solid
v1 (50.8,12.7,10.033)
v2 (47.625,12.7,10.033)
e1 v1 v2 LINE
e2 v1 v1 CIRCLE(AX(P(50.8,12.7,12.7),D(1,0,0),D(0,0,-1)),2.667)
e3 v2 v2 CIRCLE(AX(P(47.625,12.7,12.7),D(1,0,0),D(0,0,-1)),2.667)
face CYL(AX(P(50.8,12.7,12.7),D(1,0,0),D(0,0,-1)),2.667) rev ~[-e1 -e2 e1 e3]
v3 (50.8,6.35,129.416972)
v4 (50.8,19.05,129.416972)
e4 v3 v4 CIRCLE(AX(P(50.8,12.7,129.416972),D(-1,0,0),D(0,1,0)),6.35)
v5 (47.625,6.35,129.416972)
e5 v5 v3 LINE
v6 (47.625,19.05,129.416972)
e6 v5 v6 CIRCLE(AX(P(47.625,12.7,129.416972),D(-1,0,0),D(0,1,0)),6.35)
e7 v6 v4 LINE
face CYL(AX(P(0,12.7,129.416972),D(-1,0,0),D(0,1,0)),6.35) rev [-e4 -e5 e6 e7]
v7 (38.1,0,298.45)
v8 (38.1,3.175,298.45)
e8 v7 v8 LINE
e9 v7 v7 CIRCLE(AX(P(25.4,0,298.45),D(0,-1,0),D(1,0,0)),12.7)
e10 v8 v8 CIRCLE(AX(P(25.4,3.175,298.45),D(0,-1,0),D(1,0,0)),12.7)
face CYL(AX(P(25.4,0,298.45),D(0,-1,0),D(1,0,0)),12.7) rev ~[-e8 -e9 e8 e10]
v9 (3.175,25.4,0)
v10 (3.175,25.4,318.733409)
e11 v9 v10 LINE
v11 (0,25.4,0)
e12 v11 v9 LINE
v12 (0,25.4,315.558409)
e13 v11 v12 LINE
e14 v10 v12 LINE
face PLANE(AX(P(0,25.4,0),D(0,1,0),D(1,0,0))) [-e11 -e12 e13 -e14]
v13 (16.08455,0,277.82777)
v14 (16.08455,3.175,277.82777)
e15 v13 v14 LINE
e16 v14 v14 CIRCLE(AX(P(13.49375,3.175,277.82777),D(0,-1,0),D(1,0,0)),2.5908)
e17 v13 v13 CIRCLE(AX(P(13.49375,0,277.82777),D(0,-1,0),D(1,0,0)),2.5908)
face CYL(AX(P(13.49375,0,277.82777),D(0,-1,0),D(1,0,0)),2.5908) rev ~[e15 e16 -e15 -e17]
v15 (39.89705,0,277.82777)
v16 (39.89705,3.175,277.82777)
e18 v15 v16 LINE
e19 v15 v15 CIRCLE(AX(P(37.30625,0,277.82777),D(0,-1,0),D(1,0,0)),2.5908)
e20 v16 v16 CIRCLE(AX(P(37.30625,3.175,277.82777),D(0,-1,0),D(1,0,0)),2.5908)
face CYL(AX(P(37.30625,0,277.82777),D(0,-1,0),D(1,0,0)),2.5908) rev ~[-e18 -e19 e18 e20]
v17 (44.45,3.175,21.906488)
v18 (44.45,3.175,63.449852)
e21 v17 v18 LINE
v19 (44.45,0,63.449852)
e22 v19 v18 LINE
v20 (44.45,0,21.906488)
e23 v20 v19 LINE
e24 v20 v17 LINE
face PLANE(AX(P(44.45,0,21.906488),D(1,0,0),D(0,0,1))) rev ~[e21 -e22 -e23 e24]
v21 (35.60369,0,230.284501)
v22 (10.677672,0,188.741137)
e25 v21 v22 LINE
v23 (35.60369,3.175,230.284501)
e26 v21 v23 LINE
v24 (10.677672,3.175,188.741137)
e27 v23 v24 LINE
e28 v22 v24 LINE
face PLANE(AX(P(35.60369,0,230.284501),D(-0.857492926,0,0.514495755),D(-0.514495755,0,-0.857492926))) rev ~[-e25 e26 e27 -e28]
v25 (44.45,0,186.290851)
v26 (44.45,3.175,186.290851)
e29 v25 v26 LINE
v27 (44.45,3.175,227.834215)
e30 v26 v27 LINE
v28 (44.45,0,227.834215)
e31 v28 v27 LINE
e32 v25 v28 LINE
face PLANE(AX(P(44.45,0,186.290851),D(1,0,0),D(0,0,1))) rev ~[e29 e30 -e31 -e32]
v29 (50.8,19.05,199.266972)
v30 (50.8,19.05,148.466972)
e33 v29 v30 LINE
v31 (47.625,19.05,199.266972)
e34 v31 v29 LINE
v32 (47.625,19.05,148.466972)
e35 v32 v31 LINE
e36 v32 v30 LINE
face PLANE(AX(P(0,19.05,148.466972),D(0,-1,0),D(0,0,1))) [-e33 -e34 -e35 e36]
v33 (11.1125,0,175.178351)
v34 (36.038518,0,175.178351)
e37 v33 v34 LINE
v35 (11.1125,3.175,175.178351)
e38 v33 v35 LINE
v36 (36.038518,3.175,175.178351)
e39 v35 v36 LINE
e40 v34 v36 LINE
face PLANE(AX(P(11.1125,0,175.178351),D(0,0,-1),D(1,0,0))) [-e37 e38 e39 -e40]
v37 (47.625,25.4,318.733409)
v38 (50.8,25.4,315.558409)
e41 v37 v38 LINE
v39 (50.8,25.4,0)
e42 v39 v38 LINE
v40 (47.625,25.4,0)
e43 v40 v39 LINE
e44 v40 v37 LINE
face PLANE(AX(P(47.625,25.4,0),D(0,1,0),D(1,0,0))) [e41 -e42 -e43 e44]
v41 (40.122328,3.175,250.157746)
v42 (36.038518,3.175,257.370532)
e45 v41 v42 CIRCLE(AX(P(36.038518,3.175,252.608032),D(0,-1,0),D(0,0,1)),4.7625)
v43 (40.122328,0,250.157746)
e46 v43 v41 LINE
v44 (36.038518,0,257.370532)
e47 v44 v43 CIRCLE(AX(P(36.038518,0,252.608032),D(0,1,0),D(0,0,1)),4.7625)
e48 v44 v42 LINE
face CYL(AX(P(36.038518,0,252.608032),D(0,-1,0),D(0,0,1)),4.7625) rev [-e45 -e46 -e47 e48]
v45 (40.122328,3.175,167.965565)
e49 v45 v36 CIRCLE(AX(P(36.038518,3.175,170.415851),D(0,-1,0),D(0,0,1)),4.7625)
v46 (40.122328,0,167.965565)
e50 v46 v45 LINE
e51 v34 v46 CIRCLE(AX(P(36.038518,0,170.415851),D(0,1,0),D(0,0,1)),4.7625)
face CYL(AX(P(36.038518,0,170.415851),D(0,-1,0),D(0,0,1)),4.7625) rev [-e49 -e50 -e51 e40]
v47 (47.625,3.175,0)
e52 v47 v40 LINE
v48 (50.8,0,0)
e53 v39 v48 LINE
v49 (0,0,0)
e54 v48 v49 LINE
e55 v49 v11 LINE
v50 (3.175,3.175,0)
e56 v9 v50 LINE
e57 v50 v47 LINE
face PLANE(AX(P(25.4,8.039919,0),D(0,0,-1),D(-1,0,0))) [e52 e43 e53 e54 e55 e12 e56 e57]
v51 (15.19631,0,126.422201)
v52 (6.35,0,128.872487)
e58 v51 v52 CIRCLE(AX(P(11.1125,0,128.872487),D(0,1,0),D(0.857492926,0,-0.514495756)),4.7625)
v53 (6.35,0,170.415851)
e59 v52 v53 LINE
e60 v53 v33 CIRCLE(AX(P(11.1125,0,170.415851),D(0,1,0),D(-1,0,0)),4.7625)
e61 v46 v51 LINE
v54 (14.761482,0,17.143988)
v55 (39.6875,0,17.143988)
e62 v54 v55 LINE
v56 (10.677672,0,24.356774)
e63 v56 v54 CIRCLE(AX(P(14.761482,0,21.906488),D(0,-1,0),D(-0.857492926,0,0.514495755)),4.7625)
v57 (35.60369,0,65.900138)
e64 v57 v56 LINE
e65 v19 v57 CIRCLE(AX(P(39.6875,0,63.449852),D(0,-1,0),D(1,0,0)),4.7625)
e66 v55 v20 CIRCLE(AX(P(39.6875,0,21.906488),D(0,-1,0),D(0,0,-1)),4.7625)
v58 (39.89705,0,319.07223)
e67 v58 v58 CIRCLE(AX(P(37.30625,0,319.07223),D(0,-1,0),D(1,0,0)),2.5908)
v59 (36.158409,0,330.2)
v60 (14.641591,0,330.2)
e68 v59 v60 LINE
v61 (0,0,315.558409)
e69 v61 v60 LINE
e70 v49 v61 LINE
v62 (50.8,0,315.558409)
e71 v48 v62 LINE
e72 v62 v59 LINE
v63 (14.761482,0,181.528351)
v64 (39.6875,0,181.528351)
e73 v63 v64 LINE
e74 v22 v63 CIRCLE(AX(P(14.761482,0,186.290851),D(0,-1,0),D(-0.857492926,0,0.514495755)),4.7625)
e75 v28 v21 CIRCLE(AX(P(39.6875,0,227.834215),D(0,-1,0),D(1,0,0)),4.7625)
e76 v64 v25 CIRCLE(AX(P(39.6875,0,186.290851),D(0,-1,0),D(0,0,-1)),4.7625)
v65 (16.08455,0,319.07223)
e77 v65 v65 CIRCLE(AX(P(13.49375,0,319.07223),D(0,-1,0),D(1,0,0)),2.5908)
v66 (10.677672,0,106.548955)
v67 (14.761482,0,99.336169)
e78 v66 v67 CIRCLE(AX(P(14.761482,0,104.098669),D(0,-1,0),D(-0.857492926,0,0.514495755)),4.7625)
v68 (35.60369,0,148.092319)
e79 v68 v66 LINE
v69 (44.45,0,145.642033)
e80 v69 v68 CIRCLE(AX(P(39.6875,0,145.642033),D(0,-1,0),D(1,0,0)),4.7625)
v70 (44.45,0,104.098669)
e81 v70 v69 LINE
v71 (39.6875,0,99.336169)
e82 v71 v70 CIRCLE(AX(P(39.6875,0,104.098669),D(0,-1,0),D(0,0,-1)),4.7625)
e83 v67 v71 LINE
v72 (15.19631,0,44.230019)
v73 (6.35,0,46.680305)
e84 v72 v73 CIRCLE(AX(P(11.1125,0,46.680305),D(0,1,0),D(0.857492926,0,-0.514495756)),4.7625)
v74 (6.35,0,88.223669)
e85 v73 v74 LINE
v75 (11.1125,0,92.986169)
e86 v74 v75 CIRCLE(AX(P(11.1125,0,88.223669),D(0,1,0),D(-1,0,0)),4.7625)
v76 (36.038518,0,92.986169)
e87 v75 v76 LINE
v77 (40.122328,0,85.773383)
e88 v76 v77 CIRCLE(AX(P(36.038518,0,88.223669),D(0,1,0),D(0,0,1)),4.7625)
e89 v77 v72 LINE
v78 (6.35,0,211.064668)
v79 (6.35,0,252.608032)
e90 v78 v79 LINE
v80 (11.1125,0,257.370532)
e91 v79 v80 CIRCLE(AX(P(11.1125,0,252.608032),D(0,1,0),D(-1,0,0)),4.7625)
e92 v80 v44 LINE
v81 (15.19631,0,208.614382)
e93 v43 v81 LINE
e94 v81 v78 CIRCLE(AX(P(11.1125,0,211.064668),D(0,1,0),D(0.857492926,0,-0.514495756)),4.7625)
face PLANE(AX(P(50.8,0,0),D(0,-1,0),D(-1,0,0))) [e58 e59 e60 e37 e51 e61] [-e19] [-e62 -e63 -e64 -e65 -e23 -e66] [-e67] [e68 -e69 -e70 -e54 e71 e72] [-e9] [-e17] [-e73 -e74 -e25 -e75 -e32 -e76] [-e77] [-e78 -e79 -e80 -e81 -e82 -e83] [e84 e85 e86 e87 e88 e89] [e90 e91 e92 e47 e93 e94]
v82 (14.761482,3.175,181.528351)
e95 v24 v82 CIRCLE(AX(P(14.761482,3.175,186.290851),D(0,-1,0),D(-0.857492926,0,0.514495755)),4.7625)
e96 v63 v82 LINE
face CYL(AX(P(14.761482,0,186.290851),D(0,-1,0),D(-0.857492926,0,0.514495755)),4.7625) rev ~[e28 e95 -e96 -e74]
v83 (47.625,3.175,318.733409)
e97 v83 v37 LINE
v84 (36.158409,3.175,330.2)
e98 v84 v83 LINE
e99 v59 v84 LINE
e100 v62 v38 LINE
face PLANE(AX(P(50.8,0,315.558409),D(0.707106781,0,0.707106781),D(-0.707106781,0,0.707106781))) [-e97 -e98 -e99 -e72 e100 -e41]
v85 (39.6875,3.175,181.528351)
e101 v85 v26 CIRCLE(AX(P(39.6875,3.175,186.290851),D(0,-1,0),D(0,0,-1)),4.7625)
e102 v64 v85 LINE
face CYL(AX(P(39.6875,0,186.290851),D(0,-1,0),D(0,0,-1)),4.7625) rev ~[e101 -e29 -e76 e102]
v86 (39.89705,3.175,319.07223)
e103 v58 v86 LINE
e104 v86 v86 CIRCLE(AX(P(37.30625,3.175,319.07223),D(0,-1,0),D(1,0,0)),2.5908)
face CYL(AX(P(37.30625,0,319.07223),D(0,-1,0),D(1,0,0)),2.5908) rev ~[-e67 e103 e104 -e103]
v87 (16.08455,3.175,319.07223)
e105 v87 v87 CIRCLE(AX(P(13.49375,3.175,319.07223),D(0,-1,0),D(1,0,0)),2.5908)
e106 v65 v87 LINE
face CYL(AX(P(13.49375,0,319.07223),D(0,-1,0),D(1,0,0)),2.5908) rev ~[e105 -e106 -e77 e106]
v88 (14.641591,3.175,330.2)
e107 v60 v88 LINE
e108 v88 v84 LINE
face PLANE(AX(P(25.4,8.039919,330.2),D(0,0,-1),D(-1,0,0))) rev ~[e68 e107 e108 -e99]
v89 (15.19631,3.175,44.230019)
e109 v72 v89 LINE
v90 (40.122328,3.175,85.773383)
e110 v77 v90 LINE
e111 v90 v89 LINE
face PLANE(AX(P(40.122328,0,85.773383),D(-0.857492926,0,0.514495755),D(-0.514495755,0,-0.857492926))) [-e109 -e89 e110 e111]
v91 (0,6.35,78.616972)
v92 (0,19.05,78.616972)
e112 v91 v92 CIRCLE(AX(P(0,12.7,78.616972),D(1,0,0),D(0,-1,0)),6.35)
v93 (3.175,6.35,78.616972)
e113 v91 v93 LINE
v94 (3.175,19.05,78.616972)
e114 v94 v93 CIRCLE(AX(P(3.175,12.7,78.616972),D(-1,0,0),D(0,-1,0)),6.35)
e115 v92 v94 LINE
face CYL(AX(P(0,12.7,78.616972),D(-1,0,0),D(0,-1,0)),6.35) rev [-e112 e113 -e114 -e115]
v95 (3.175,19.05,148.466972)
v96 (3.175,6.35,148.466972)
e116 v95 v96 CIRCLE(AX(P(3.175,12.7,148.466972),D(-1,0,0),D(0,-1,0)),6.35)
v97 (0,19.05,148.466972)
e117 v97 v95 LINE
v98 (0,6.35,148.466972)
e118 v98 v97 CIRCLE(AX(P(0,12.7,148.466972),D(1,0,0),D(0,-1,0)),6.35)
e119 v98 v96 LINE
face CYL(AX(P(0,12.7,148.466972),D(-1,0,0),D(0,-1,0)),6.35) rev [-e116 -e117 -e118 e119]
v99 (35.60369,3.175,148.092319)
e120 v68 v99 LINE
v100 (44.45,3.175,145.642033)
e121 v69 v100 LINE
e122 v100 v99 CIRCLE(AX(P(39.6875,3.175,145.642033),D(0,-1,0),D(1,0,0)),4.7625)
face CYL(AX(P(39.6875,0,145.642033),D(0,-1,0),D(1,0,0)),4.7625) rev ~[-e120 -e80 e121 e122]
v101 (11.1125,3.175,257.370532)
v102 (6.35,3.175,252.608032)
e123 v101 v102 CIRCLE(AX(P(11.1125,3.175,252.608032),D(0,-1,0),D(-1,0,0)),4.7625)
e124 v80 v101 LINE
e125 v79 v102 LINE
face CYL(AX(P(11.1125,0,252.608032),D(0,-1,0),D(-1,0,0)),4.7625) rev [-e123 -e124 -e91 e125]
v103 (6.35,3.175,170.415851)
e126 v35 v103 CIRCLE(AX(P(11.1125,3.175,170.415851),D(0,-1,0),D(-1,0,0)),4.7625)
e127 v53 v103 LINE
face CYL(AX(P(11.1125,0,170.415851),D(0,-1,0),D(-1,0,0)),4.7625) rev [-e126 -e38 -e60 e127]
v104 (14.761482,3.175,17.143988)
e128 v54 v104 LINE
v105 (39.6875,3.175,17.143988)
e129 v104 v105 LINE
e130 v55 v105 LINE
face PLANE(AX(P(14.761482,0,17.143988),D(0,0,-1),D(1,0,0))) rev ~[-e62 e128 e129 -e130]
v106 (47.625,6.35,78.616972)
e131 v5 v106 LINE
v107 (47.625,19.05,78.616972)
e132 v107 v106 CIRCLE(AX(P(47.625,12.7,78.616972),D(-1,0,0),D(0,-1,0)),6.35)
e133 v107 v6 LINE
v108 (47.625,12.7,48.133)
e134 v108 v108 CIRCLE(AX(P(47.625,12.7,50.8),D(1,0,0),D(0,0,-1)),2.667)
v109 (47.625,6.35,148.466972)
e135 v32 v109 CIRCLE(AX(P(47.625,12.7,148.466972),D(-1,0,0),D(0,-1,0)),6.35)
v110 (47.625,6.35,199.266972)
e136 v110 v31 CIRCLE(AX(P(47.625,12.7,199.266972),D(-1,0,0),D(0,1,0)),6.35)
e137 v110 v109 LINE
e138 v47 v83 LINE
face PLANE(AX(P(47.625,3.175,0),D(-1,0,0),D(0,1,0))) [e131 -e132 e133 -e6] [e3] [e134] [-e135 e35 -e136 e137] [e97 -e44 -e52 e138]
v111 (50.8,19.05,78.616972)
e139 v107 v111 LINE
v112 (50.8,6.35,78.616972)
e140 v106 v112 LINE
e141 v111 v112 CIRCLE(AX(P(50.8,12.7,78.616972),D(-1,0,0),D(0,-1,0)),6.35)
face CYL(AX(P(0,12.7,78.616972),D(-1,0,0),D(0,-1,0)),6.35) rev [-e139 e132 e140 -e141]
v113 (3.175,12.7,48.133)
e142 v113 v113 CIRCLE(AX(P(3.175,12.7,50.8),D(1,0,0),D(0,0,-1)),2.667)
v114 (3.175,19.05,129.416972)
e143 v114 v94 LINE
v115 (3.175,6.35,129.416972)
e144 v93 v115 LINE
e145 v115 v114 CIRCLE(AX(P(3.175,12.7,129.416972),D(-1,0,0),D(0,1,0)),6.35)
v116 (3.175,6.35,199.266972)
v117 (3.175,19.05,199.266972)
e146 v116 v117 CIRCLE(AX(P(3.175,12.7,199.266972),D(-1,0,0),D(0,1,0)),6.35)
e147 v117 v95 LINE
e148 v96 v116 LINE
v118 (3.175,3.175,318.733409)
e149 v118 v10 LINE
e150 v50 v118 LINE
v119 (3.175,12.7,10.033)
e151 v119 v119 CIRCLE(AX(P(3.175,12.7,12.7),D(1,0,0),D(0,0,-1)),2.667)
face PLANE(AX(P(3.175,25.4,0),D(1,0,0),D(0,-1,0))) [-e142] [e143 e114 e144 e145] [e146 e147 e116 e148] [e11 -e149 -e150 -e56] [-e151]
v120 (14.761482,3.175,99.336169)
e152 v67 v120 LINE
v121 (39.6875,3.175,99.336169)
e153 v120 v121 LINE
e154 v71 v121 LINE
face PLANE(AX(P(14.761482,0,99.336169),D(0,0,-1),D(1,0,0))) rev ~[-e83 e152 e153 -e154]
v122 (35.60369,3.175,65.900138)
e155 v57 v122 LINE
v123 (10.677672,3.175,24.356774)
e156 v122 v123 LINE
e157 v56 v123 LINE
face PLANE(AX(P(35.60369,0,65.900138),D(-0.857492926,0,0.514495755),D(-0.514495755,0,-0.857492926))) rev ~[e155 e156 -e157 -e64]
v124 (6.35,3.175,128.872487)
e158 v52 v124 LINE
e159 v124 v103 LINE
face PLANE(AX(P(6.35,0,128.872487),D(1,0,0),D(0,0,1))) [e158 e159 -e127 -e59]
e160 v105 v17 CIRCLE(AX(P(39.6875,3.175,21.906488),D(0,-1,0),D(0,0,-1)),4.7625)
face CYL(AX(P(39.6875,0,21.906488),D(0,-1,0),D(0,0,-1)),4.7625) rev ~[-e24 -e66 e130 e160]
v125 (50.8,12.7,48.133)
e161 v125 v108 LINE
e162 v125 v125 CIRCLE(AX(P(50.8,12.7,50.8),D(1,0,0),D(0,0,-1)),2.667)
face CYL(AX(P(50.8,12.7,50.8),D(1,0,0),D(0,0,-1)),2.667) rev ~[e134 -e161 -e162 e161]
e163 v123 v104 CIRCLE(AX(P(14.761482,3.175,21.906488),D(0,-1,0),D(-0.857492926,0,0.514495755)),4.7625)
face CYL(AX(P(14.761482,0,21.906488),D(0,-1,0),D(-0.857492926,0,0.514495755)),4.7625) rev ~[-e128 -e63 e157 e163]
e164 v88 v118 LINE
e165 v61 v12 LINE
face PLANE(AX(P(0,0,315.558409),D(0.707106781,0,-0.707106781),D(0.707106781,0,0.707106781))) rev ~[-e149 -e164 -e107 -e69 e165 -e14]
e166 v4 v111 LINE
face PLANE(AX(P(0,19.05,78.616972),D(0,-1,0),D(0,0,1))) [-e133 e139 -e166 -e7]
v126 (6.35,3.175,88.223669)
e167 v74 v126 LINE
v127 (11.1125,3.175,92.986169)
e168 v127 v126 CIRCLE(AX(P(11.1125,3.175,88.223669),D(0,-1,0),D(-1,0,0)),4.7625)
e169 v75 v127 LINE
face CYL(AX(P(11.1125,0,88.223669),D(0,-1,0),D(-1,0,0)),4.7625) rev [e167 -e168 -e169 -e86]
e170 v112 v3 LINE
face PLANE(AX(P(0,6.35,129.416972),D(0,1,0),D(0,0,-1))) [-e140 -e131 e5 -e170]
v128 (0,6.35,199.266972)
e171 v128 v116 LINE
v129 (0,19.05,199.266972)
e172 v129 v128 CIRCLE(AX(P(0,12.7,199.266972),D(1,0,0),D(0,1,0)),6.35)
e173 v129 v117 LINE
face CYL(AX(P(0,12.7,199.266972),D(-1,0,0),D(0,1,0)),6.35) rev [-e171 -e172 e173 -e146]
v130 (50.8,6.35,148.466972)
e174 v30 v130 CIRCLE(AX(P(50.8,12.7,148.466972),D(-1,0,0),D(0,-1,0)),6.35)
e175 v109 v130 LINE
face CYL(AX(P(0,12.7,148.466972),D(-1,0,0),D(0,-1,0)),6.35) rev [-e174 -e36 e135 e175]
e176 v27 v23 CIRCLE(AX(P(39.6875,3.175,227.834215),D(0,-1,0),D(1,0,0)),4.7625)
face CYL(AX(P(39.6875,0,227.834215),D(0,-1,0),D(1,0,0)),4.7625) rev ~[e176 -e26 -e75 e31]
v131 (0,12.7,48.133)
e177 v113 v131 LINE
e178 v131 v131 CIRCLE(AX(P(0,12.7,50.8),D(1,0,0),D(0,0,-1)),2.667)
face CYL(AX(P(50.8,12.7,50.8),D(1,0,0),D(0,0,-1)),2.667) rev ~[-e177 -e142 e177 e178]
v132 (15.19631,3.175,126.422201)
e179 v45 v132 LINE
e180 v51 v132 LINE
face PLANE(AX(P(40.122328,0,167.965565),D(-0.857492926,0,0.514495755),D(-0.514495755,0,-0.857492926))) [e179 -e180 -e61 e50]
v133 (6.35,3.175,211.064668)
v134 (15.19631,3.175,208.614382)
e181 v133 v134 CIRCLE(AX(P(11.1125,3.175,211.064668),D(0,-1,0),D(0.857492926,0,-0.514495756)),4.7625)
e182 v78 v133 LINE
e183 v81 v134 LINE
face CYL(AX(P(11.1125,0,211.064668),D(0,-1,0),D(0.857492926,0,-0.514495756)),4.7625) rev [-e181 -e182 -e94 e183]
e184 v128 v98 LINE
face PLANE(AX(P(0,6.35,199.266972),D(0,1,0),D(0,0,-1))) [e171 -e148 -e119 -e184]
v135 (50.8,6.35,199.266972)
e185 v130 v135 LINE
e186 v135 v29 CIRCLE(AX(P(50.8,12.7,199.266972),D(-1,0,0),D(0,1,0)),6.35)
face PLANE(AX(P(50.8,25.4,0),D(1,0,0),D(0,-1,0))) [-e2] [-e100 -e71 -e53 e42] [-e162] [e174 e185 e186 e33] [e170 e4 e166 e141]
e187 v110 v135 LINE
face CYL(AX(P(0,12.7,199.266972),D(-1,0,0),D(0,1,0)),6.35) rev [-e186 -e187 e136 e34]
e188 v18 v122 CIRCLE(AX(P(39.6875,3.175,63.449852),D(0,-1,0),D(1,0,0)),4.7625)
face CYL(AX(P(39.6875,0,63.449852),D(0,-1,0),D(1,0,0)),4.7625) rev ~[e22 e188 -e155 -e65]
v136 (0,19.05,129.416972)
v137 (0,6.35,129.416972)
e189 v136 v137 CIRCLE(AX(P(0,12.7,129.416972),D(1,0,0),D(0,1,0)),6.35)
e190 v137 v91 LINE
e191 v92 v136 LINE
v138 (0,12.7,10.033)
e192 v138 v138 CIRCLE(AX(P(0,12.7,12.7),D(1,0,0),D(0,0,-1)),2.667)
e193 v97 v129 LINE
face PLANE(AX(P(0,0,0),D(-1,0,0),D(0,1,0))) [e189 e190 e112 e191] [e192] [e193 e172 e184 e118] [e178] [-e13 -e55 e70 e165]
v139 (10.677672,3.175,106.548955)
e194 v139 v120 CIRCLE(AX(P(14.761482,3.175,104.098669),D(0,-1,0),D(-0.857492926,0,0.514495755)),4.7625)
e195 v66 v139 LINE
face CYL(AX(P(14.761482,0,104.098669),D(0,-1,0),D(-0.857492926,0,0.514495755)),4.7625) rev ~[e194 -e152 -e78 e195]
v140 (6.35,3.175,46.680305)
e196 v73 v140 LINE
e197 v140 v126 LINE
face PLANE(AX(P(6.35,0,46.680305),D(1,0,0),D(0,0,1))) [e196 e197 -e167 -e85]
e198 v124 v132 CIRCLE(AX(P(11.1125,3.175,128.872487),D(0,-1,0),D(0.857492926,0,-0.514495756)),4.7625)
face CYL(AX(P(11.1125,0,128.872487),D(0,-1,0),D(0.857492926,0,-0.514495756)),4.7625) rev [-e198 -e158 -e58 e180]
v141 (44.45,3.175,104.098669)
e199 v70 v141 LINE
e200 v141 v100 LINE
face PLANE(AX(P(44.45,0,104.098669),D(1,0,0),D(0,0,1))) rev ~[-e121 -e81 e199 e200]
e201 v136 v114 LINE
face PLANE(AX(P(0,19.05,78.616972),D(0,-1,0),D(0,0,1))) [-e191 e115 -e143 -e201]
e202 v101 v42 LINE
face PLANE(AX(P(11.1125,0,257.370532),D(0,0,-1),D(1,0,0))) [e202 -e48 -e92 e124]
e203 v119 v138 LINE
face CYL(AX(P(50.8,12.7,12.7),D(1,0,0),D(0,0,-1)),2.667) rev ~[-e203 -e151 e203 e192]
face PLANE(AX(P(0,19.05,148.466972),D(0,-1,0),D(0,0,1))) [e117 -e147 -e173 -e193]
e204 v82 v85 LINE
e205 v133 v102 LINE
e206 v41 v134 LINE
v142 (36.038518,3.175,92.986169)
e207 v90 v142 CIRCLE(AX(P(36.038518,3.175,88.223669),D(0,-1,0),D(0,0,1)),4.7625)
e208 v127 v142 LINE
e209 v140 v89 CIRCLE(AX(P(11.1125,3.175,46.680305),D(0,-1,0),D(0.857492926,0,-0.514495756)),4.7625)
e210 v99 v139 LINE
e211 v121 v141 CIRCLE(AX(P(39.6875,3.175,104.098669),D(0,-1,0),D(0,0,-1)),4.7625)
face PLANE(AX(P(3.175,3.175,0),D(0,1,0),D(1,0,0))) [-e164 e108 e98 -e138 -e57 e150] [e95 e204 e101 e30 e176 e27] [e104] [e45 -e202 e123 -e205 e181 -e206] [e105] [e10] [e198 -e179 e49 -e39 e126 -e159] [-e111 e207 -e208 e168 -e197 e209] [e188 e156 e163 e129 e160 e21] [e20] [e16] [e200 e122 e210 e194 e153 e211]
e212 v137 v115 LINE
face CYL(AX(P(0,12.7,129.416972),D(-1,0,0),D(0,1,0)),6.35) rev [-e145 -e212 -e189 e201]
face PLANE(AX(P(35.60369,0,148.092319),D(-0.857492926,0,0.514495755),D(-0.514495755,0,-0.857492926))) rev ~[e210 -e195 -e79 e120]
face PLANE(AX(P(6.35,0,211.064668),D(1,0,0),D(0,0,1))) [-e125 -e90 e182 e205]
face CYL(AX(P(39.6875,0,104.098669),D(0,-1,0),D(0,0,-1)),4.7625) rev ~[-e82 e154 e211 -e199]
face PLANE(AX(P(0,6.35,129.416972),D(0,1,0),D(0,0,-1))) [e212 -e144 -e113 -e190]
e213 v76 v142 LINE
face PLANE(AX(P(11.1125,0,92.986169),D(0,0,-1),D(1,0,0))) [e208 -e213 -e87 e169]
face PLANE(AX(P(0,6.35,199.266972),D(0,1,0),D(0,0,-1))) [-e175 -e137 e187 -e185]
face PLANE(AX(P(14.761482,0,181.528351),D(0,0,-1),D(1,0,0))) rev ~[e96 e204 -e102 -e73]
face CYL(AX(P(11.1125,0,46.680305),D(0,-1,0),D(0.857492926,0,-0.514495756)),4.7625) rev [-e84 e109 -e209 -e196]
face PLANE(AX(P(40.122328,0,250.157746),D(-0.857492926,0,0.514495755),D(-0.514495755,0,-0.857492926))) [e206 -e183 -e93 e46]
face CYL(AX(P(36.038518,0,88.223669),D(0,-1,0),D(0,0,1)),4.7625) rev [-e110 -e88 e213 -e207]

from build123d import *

# Parameters (mm, degrees)
BOSS_EXTRUDE1_DEPTH = 330.2
CUT_EXTRUDE1_REACH  = 27.4
SKETCH2_R           = 12.7
SKETCH3_R           = 2.667
CUT_EXTRUDE2_DEPTH  = 51.8
CUT_EXTRUDE3_REACH  = 27.4
SKETCH4_R           = 2.5908
CUT_EXTRUDE4_REACH  = 27.4
CUT_EXTRUDE5_DEPTH  = 51.8
CUT_EXTRUDE6_DEPTH  = 26.4


with BuildPart() as part:
    # Sketch1 → Boss-Extrude1 (new body)
    with BuildSketch(Plane.XY):
        Polygon((47.625, 3.175), (47.625, 25.4), (50.8, 25.4), (50.8, 0), (0, 0), (0, 25.4), (3.175, 25.4), (3.175, 3.175), align=None)
    extrude(amount=BOSS_EXTRUDE1_DEPTH)

    # Sketch2 → Cut-Extrude1 (cut, up to next)
    with BuildSketch(Plane.XZ, mode=Mode.PRIVATE) as cut_extrude1_sk1:
        with Locations((25.4, 298.45)):
            Circle(SKETCH2_R)
    cut_extrude1_tool1 = extrude(cut_extrude1_sk1.sketch, amount=-CUT_EXTRUDE1_REACH, mode=Mode.PRIVATE) & part.part
    add(cut_extrude1_tool1.solids().sort_by_distance((25.4, 0, 298.45))[0], mode=Mode.SUBTRACT)

    # Sketch3 → Cut-Extrude2 (cut, through all)
    with BuildSketch(Plane(origin=(50.8, 0, 0), x_dir=(0, 0, -1), z_dir=(1, 0, 0))):
        with Locations((-12.7, 12.7)):
            Circle(SKETCH3_R)
        with Locations((-50.8, 12.7)):
            Circle(SKETCH3_R)
    extrude(amount=-CUT_EXTRUDE2_DEPTH, mode=Mode.SUBTRACT)

    # Sketch4 → Cut-Extrude3 (cut, up to next)
    with BuildSketch(Plane.XZ, mode=Mode.PRIVATE) as cut_extrude3_sk1:
        with Locations((13.49375, 277.827770072)):
            Circle(SKETCH4_R)
    cut_extrude3_tool1 = extrude(cut_extrude3_sk1.sketch, amount=-CUT_EXTRUDE3_REACH, mode=Mode.PRIVATE) & part.part
    add(cut_extrude3_tool1.solids().sort_by_distance((13.49375, 0, 277.82777))[0], mode=Mode.SUBTRACT)
    # Sketch4 → Cut-Extrude3 (cut, up to next)
    with BuildSketch(Plane.XZ, mode=Mode.PRIVATE) as cut_extrude3_sk2:
        with Locations((37.30625, 277.827770072)):
            Circle(SKETCH4_R)
    cut_extrude3_tool2 = extrude(cut_extrude3_sk2.sketch, amount=-CUT_EXTRUDE3_REACH, mode=Mode.PRIVATE) & part.part
    add(cut_extrude3_tool2.solids().sort_by_distance((37.30625, 0, 277.82777))[0], mode=Mode.SUBTRACT)
    # Sketch4 → Cut-Extrude3 (cut, up to next)
    with BuildSketch(Plane.XZ, mode=Mode.PRIVATE) as cut_extrude3_sk3:
        with Locations((13.49375, 319.072229928)):
            Circle(SKETCH4_R)
    cut_extrude3_tool3 = extrude(cut_extrude3_sk3.sketch, amount=-CUT_EXTRUDE3_REACH, mode=Mode.PRIVATE) & part.part
    add(cut_extrude3_tool3.solids().sort_by_distance((13.49375, 0, 319.07223))[0], mode=Mode.SUBTRACT)
    # Sketch4 → Cut-Extrude3 (cut, up to next)
    with BuildSketch(Plane.XZ, mode=Mode.PRIVATE) as cut_extrude3_sk4:
        with Locations((37.30625, 319.072229928)):
            Circle(SKETCH4_R)
    cut_extrude3_tool4 = extrude(cut_extrude3_sk4.sketch, amount=-CUT_EXTRUDE3_REACH, mode=Mode.PRIVATE) & part.part
    add(cut_extrude3_tool4.solids().sort_by_distance((37.30625, 0, 319.07223))[0], mode=Mode.SUBTRACT)

    # Sketch5 → Cut-Extrude4 (cut, up to next)
    with BuildSketch(Plane.XZ, mode=Mode.PRIVATE) as cut_extrude4_sk1:
        with BuildLine():
            Line((40.122328379, 85.773383183), (15.196310059, 44.230019316))
            ThreePointArc((15.196310059, 44.230019316), (9.841228816, 42.090613006), (6.35, 46.680305352))
            Line((6.35, 46.680305352), (6.35, 88.223669219))
            ThreePointArc((6.35, 88.223669219), (7.744903955, 91.591265264), (11.1125, 92.986169219))
            Line((11.1125, 92.986169219), (36.03851832, 92.986169219))
            ThreePointArc((36.03851832, 92.986169219), (40.182845376, 90.570147325), (40.122328379, 85.773383183))
        make_face()
    cut_extrude4_tool1 = extrude(cut_extrude4_sk1.sketch, amount=-CUT_EXTRUDE4_REACH, mode=Mode.PRIVATE) & part.part
    add(cut_extrude4_tool1.solids().sort_by_distance((19.256233, 0, 73.00095))[0], mode=Mode.SUBTRACT)
    # Sketch5 → Cut-Extrude4 (cut, up to next)
    with BuildSketch(Plane.XZ, mode=Mode.PRIVATE) as cut_extrude4_sk2:
        with BuildLine():
            Line((14.76148168, 17.143987708), (39.6875, 17.143987708))
            ThreePointArc((39.6875, 17.143987708), (43.055096045, 18.538891662), (44.45, 21.906487708))
            Line((44.45, 21.906487708), (44.45, 63.449851575))
            ThreePointArc((44.45, 63.449851575), (40.958771184, 68.03954392), (35.603689941, 65.90013761))
            Line((35.603689941, 65.90013761), (10.677671621, 24.356773743))
            ThreePointArc((10.677671621, 24.356773743), (10.617154624, 19.560009601), (14.76148168, 17.143987708))
        make_face()
    cut_extrude4_tool2 = extrude(cut_extrude4_sk2.sketch, amount=-CUT_EXTRUDE4_REACH, mode=Mode.PRIVATE) & part.part
    add(cut_extrude4_tool2.solids().sort_by_distance((31.543767, 0, 37.129207))[0], mode=Mode.SUBTRACT)
    # Sketch5 → Cut-Extrude4 (cut, up to next)
    with BuildSketch(Plane.XZ, mode=Mode.PRIVATE) as cut_extrude4_sk3:
        with BuildLine():
            Line((40.122328379, 167.965564694), (15.196310059, 126.422200827))
            ThreePointArc((15.196310059, 126.422200827), (9.841228816, 124.282794517), (6.35, 128.872486862))
            Line((6.35, 128.872486862), (6.35, 170.415850729))
            ThreePointArc((6.35, 170.415850729), (7.744903955, 173.783446775), (11.1125, 175.178350729))
            Line((11.1125, 175.178350729), (36.03851832, 175.178350729))
            ThreePointArc((36.03851832, 175.178350729), (40.182845376, 172.762328836), (40.122328379, 167.965564694))
        make_face()
    cut_extrude4_tool3 = extrude(cut_extrude4_sk3.sketch, amount=-CUT_EXTRUDE4_REACH, mode=Mode.PRIVATE) & part.part
    add(cut_extrude4_tool3.solids().sort_by_distance((19.256233, 0, 155.193132))[0], mode=Mode.SUBTRACT)
    # Sketch5 → Cut-Extrude4 (cut, up to next)
    with BuildSketch(Plane.XZ, mode=Mode.PRIVATE) as cut_extrude4_sk4:
        with BuildLine():
            Line((14.76148168, 99.336169219), (39.6875, 99.336169219))
            ThreePointArc((39.6875, 99.336169219), (43.055096045, 100.731073173), (44.45, 104.098669219))
            Line((44.45, 104.098669219), (44.45, 145.642033085))
            ThreePointArc((44.45, 145.642033085), (40.958771184, 150.231725431), (35.603689941, 148.092319121))
            Line((35.603689941, 148.092319121), (10.677671621, 106.548955254))
            ThreePointArc((10.677671621, 106.548955254), (10.617154624, 101.752191112), (14.76148168, 99.336169219))
        make_face()
    cut_extrude4_tool4 = extrude(cut_extrude4_sk4.sketch, amount=-CUT_EXTRUDE4_REACH, mode=Mode.PRIVATE) & part.part
    add(cut_extrude4_tool4.solids().sort_by_distance((31.543767, 0, 119.321388))[0], mode=Mode.SUBTRACT)
    # Sketch5 → Cut-Extrude4 (cut, up to next)
    with BuildSketch(Plane.XZ, mode=Mode.PRIVATE) as cut_extrude4_sk5:
        with BuildLine():
            Line((40.122328379, 250.157746205), (15.196310059, 208.614382338))
            ThreePointArc((15.196310059, 208.614382338), (9.841228816, 206.474976028), (6.35, 211.064668373))
            Line((6.35, 211.064668373), (6.35, 252.60803224))
            ThreePointArc((6.35, 252.60803224), (7.744903955, 255.975628285), (11.1125, 257.37053224))
            Line((11.1125, 257.37053224), (36.03851832, 257.37053224))
            ThreePointArc((36.03851832, 257.37053224), (40.182845376, 254.954510346), (40.122328379, 250.157746205))
        make_face()
    cut_extrude4_tool5 = extrude(cut_extrude4_sk5.sketch, amount=-CUT_EXTRUDE4_REACH, mode=Mode.PRIVATE) & part.part
    add(cut_extrude4_tool5.solids().sort_by_distance((19.256233, 0, 237.385313))[0], mode=Mode.SUBTRACT)
    # Sketch5 → Cut-Extrude4 (cut, up to next)
    with BuildSketch(Plane.XZ, mode=Mode.PRIVATE) as cut_extrude4_sk6:
        with BuildLine():
            Line((14.76148168, 181.528350729), (39.6875, 181.528350729))
            ThreePointArc((39.6875, 181.528350729), (43.055096045, 182.923254684), (44.45, 186.290850729))
            Line((44.45, 186.290850729), (44.45, 227.834214596))
            ThreePointArc((44.45, 227.834214596), (40.958771184, 232.423906942), (35.603689941, 230.284500631))
            Line((35.603689941, 230.284500631), (10.677671621, 188.741136765))
            ThreePointArc((10.677671621, 188.741136765), (10.617154624, 183.944372623), (14.76148168, 181.528350729))
        make_face()
    cut_extrude4_tool6 = extrude(cut_extrude4_sk6.sketch, amount=-CUT_EXTRUDE4_REACH, mode=Mode.PRIVATE) & part.part
    add(cut_extrude4_tool6.solids().sort_by_distance((31.543767, 0, 201.51357))[0], mode=Mode.SUBTRACT)

    # Sketch6 → Cut-Extrude5 (cut, through all)
    with BuildSketch(Plane.ZY):
        with BuildLine():
            Line((78.616971835, 19.05), (129.416971835, 19.05))
            ThreePointArc((129.416971835, 19.05), (135.766971835, 12.7), (129.416971835, 6.35))
            Line((129.416971835, 6.35), (78.616971835, 6.35))
            ThreePointArc((78.616971835, 6.35), (72.266971835, 12.7), (78.616971835, 19.05))
        make_face()
        with BuildLine():
            Line((148.466971835, 19.05), (199.266971835, 19.05))
            ThreePointArc((199.266971835, 19.05), (205.616971835, 12.7), (199.266971835, 6.35))
            Line((199.266971835, 6.35), (148.466971835, 6.35))
            ThreePointArc((148.466971835, 6.35), (142.116971835, 12.7), (148.466971835, 19.05))
        make_face()
    extrude(amount=-CUT_EXTRUDE5_DEPTH, mode=Mode.SUBTRACT)

    # Sketch7 → Cut-Extrude6 (cut, through all)
    with BuildSketch(Plane.XZ):
        Polygon((0, 330.2), (0, 315.558408634), (14.641591366, 330.2), align=None)
        Polygon((36.158408634, 330.2), (50.8, 330.2), (50.8, 315.558408634), align=None)
    extrude(amount=-CUT_EXTRUDE6_DEPTH, mode=Mode.SUBTRACT)


solid = part.part
